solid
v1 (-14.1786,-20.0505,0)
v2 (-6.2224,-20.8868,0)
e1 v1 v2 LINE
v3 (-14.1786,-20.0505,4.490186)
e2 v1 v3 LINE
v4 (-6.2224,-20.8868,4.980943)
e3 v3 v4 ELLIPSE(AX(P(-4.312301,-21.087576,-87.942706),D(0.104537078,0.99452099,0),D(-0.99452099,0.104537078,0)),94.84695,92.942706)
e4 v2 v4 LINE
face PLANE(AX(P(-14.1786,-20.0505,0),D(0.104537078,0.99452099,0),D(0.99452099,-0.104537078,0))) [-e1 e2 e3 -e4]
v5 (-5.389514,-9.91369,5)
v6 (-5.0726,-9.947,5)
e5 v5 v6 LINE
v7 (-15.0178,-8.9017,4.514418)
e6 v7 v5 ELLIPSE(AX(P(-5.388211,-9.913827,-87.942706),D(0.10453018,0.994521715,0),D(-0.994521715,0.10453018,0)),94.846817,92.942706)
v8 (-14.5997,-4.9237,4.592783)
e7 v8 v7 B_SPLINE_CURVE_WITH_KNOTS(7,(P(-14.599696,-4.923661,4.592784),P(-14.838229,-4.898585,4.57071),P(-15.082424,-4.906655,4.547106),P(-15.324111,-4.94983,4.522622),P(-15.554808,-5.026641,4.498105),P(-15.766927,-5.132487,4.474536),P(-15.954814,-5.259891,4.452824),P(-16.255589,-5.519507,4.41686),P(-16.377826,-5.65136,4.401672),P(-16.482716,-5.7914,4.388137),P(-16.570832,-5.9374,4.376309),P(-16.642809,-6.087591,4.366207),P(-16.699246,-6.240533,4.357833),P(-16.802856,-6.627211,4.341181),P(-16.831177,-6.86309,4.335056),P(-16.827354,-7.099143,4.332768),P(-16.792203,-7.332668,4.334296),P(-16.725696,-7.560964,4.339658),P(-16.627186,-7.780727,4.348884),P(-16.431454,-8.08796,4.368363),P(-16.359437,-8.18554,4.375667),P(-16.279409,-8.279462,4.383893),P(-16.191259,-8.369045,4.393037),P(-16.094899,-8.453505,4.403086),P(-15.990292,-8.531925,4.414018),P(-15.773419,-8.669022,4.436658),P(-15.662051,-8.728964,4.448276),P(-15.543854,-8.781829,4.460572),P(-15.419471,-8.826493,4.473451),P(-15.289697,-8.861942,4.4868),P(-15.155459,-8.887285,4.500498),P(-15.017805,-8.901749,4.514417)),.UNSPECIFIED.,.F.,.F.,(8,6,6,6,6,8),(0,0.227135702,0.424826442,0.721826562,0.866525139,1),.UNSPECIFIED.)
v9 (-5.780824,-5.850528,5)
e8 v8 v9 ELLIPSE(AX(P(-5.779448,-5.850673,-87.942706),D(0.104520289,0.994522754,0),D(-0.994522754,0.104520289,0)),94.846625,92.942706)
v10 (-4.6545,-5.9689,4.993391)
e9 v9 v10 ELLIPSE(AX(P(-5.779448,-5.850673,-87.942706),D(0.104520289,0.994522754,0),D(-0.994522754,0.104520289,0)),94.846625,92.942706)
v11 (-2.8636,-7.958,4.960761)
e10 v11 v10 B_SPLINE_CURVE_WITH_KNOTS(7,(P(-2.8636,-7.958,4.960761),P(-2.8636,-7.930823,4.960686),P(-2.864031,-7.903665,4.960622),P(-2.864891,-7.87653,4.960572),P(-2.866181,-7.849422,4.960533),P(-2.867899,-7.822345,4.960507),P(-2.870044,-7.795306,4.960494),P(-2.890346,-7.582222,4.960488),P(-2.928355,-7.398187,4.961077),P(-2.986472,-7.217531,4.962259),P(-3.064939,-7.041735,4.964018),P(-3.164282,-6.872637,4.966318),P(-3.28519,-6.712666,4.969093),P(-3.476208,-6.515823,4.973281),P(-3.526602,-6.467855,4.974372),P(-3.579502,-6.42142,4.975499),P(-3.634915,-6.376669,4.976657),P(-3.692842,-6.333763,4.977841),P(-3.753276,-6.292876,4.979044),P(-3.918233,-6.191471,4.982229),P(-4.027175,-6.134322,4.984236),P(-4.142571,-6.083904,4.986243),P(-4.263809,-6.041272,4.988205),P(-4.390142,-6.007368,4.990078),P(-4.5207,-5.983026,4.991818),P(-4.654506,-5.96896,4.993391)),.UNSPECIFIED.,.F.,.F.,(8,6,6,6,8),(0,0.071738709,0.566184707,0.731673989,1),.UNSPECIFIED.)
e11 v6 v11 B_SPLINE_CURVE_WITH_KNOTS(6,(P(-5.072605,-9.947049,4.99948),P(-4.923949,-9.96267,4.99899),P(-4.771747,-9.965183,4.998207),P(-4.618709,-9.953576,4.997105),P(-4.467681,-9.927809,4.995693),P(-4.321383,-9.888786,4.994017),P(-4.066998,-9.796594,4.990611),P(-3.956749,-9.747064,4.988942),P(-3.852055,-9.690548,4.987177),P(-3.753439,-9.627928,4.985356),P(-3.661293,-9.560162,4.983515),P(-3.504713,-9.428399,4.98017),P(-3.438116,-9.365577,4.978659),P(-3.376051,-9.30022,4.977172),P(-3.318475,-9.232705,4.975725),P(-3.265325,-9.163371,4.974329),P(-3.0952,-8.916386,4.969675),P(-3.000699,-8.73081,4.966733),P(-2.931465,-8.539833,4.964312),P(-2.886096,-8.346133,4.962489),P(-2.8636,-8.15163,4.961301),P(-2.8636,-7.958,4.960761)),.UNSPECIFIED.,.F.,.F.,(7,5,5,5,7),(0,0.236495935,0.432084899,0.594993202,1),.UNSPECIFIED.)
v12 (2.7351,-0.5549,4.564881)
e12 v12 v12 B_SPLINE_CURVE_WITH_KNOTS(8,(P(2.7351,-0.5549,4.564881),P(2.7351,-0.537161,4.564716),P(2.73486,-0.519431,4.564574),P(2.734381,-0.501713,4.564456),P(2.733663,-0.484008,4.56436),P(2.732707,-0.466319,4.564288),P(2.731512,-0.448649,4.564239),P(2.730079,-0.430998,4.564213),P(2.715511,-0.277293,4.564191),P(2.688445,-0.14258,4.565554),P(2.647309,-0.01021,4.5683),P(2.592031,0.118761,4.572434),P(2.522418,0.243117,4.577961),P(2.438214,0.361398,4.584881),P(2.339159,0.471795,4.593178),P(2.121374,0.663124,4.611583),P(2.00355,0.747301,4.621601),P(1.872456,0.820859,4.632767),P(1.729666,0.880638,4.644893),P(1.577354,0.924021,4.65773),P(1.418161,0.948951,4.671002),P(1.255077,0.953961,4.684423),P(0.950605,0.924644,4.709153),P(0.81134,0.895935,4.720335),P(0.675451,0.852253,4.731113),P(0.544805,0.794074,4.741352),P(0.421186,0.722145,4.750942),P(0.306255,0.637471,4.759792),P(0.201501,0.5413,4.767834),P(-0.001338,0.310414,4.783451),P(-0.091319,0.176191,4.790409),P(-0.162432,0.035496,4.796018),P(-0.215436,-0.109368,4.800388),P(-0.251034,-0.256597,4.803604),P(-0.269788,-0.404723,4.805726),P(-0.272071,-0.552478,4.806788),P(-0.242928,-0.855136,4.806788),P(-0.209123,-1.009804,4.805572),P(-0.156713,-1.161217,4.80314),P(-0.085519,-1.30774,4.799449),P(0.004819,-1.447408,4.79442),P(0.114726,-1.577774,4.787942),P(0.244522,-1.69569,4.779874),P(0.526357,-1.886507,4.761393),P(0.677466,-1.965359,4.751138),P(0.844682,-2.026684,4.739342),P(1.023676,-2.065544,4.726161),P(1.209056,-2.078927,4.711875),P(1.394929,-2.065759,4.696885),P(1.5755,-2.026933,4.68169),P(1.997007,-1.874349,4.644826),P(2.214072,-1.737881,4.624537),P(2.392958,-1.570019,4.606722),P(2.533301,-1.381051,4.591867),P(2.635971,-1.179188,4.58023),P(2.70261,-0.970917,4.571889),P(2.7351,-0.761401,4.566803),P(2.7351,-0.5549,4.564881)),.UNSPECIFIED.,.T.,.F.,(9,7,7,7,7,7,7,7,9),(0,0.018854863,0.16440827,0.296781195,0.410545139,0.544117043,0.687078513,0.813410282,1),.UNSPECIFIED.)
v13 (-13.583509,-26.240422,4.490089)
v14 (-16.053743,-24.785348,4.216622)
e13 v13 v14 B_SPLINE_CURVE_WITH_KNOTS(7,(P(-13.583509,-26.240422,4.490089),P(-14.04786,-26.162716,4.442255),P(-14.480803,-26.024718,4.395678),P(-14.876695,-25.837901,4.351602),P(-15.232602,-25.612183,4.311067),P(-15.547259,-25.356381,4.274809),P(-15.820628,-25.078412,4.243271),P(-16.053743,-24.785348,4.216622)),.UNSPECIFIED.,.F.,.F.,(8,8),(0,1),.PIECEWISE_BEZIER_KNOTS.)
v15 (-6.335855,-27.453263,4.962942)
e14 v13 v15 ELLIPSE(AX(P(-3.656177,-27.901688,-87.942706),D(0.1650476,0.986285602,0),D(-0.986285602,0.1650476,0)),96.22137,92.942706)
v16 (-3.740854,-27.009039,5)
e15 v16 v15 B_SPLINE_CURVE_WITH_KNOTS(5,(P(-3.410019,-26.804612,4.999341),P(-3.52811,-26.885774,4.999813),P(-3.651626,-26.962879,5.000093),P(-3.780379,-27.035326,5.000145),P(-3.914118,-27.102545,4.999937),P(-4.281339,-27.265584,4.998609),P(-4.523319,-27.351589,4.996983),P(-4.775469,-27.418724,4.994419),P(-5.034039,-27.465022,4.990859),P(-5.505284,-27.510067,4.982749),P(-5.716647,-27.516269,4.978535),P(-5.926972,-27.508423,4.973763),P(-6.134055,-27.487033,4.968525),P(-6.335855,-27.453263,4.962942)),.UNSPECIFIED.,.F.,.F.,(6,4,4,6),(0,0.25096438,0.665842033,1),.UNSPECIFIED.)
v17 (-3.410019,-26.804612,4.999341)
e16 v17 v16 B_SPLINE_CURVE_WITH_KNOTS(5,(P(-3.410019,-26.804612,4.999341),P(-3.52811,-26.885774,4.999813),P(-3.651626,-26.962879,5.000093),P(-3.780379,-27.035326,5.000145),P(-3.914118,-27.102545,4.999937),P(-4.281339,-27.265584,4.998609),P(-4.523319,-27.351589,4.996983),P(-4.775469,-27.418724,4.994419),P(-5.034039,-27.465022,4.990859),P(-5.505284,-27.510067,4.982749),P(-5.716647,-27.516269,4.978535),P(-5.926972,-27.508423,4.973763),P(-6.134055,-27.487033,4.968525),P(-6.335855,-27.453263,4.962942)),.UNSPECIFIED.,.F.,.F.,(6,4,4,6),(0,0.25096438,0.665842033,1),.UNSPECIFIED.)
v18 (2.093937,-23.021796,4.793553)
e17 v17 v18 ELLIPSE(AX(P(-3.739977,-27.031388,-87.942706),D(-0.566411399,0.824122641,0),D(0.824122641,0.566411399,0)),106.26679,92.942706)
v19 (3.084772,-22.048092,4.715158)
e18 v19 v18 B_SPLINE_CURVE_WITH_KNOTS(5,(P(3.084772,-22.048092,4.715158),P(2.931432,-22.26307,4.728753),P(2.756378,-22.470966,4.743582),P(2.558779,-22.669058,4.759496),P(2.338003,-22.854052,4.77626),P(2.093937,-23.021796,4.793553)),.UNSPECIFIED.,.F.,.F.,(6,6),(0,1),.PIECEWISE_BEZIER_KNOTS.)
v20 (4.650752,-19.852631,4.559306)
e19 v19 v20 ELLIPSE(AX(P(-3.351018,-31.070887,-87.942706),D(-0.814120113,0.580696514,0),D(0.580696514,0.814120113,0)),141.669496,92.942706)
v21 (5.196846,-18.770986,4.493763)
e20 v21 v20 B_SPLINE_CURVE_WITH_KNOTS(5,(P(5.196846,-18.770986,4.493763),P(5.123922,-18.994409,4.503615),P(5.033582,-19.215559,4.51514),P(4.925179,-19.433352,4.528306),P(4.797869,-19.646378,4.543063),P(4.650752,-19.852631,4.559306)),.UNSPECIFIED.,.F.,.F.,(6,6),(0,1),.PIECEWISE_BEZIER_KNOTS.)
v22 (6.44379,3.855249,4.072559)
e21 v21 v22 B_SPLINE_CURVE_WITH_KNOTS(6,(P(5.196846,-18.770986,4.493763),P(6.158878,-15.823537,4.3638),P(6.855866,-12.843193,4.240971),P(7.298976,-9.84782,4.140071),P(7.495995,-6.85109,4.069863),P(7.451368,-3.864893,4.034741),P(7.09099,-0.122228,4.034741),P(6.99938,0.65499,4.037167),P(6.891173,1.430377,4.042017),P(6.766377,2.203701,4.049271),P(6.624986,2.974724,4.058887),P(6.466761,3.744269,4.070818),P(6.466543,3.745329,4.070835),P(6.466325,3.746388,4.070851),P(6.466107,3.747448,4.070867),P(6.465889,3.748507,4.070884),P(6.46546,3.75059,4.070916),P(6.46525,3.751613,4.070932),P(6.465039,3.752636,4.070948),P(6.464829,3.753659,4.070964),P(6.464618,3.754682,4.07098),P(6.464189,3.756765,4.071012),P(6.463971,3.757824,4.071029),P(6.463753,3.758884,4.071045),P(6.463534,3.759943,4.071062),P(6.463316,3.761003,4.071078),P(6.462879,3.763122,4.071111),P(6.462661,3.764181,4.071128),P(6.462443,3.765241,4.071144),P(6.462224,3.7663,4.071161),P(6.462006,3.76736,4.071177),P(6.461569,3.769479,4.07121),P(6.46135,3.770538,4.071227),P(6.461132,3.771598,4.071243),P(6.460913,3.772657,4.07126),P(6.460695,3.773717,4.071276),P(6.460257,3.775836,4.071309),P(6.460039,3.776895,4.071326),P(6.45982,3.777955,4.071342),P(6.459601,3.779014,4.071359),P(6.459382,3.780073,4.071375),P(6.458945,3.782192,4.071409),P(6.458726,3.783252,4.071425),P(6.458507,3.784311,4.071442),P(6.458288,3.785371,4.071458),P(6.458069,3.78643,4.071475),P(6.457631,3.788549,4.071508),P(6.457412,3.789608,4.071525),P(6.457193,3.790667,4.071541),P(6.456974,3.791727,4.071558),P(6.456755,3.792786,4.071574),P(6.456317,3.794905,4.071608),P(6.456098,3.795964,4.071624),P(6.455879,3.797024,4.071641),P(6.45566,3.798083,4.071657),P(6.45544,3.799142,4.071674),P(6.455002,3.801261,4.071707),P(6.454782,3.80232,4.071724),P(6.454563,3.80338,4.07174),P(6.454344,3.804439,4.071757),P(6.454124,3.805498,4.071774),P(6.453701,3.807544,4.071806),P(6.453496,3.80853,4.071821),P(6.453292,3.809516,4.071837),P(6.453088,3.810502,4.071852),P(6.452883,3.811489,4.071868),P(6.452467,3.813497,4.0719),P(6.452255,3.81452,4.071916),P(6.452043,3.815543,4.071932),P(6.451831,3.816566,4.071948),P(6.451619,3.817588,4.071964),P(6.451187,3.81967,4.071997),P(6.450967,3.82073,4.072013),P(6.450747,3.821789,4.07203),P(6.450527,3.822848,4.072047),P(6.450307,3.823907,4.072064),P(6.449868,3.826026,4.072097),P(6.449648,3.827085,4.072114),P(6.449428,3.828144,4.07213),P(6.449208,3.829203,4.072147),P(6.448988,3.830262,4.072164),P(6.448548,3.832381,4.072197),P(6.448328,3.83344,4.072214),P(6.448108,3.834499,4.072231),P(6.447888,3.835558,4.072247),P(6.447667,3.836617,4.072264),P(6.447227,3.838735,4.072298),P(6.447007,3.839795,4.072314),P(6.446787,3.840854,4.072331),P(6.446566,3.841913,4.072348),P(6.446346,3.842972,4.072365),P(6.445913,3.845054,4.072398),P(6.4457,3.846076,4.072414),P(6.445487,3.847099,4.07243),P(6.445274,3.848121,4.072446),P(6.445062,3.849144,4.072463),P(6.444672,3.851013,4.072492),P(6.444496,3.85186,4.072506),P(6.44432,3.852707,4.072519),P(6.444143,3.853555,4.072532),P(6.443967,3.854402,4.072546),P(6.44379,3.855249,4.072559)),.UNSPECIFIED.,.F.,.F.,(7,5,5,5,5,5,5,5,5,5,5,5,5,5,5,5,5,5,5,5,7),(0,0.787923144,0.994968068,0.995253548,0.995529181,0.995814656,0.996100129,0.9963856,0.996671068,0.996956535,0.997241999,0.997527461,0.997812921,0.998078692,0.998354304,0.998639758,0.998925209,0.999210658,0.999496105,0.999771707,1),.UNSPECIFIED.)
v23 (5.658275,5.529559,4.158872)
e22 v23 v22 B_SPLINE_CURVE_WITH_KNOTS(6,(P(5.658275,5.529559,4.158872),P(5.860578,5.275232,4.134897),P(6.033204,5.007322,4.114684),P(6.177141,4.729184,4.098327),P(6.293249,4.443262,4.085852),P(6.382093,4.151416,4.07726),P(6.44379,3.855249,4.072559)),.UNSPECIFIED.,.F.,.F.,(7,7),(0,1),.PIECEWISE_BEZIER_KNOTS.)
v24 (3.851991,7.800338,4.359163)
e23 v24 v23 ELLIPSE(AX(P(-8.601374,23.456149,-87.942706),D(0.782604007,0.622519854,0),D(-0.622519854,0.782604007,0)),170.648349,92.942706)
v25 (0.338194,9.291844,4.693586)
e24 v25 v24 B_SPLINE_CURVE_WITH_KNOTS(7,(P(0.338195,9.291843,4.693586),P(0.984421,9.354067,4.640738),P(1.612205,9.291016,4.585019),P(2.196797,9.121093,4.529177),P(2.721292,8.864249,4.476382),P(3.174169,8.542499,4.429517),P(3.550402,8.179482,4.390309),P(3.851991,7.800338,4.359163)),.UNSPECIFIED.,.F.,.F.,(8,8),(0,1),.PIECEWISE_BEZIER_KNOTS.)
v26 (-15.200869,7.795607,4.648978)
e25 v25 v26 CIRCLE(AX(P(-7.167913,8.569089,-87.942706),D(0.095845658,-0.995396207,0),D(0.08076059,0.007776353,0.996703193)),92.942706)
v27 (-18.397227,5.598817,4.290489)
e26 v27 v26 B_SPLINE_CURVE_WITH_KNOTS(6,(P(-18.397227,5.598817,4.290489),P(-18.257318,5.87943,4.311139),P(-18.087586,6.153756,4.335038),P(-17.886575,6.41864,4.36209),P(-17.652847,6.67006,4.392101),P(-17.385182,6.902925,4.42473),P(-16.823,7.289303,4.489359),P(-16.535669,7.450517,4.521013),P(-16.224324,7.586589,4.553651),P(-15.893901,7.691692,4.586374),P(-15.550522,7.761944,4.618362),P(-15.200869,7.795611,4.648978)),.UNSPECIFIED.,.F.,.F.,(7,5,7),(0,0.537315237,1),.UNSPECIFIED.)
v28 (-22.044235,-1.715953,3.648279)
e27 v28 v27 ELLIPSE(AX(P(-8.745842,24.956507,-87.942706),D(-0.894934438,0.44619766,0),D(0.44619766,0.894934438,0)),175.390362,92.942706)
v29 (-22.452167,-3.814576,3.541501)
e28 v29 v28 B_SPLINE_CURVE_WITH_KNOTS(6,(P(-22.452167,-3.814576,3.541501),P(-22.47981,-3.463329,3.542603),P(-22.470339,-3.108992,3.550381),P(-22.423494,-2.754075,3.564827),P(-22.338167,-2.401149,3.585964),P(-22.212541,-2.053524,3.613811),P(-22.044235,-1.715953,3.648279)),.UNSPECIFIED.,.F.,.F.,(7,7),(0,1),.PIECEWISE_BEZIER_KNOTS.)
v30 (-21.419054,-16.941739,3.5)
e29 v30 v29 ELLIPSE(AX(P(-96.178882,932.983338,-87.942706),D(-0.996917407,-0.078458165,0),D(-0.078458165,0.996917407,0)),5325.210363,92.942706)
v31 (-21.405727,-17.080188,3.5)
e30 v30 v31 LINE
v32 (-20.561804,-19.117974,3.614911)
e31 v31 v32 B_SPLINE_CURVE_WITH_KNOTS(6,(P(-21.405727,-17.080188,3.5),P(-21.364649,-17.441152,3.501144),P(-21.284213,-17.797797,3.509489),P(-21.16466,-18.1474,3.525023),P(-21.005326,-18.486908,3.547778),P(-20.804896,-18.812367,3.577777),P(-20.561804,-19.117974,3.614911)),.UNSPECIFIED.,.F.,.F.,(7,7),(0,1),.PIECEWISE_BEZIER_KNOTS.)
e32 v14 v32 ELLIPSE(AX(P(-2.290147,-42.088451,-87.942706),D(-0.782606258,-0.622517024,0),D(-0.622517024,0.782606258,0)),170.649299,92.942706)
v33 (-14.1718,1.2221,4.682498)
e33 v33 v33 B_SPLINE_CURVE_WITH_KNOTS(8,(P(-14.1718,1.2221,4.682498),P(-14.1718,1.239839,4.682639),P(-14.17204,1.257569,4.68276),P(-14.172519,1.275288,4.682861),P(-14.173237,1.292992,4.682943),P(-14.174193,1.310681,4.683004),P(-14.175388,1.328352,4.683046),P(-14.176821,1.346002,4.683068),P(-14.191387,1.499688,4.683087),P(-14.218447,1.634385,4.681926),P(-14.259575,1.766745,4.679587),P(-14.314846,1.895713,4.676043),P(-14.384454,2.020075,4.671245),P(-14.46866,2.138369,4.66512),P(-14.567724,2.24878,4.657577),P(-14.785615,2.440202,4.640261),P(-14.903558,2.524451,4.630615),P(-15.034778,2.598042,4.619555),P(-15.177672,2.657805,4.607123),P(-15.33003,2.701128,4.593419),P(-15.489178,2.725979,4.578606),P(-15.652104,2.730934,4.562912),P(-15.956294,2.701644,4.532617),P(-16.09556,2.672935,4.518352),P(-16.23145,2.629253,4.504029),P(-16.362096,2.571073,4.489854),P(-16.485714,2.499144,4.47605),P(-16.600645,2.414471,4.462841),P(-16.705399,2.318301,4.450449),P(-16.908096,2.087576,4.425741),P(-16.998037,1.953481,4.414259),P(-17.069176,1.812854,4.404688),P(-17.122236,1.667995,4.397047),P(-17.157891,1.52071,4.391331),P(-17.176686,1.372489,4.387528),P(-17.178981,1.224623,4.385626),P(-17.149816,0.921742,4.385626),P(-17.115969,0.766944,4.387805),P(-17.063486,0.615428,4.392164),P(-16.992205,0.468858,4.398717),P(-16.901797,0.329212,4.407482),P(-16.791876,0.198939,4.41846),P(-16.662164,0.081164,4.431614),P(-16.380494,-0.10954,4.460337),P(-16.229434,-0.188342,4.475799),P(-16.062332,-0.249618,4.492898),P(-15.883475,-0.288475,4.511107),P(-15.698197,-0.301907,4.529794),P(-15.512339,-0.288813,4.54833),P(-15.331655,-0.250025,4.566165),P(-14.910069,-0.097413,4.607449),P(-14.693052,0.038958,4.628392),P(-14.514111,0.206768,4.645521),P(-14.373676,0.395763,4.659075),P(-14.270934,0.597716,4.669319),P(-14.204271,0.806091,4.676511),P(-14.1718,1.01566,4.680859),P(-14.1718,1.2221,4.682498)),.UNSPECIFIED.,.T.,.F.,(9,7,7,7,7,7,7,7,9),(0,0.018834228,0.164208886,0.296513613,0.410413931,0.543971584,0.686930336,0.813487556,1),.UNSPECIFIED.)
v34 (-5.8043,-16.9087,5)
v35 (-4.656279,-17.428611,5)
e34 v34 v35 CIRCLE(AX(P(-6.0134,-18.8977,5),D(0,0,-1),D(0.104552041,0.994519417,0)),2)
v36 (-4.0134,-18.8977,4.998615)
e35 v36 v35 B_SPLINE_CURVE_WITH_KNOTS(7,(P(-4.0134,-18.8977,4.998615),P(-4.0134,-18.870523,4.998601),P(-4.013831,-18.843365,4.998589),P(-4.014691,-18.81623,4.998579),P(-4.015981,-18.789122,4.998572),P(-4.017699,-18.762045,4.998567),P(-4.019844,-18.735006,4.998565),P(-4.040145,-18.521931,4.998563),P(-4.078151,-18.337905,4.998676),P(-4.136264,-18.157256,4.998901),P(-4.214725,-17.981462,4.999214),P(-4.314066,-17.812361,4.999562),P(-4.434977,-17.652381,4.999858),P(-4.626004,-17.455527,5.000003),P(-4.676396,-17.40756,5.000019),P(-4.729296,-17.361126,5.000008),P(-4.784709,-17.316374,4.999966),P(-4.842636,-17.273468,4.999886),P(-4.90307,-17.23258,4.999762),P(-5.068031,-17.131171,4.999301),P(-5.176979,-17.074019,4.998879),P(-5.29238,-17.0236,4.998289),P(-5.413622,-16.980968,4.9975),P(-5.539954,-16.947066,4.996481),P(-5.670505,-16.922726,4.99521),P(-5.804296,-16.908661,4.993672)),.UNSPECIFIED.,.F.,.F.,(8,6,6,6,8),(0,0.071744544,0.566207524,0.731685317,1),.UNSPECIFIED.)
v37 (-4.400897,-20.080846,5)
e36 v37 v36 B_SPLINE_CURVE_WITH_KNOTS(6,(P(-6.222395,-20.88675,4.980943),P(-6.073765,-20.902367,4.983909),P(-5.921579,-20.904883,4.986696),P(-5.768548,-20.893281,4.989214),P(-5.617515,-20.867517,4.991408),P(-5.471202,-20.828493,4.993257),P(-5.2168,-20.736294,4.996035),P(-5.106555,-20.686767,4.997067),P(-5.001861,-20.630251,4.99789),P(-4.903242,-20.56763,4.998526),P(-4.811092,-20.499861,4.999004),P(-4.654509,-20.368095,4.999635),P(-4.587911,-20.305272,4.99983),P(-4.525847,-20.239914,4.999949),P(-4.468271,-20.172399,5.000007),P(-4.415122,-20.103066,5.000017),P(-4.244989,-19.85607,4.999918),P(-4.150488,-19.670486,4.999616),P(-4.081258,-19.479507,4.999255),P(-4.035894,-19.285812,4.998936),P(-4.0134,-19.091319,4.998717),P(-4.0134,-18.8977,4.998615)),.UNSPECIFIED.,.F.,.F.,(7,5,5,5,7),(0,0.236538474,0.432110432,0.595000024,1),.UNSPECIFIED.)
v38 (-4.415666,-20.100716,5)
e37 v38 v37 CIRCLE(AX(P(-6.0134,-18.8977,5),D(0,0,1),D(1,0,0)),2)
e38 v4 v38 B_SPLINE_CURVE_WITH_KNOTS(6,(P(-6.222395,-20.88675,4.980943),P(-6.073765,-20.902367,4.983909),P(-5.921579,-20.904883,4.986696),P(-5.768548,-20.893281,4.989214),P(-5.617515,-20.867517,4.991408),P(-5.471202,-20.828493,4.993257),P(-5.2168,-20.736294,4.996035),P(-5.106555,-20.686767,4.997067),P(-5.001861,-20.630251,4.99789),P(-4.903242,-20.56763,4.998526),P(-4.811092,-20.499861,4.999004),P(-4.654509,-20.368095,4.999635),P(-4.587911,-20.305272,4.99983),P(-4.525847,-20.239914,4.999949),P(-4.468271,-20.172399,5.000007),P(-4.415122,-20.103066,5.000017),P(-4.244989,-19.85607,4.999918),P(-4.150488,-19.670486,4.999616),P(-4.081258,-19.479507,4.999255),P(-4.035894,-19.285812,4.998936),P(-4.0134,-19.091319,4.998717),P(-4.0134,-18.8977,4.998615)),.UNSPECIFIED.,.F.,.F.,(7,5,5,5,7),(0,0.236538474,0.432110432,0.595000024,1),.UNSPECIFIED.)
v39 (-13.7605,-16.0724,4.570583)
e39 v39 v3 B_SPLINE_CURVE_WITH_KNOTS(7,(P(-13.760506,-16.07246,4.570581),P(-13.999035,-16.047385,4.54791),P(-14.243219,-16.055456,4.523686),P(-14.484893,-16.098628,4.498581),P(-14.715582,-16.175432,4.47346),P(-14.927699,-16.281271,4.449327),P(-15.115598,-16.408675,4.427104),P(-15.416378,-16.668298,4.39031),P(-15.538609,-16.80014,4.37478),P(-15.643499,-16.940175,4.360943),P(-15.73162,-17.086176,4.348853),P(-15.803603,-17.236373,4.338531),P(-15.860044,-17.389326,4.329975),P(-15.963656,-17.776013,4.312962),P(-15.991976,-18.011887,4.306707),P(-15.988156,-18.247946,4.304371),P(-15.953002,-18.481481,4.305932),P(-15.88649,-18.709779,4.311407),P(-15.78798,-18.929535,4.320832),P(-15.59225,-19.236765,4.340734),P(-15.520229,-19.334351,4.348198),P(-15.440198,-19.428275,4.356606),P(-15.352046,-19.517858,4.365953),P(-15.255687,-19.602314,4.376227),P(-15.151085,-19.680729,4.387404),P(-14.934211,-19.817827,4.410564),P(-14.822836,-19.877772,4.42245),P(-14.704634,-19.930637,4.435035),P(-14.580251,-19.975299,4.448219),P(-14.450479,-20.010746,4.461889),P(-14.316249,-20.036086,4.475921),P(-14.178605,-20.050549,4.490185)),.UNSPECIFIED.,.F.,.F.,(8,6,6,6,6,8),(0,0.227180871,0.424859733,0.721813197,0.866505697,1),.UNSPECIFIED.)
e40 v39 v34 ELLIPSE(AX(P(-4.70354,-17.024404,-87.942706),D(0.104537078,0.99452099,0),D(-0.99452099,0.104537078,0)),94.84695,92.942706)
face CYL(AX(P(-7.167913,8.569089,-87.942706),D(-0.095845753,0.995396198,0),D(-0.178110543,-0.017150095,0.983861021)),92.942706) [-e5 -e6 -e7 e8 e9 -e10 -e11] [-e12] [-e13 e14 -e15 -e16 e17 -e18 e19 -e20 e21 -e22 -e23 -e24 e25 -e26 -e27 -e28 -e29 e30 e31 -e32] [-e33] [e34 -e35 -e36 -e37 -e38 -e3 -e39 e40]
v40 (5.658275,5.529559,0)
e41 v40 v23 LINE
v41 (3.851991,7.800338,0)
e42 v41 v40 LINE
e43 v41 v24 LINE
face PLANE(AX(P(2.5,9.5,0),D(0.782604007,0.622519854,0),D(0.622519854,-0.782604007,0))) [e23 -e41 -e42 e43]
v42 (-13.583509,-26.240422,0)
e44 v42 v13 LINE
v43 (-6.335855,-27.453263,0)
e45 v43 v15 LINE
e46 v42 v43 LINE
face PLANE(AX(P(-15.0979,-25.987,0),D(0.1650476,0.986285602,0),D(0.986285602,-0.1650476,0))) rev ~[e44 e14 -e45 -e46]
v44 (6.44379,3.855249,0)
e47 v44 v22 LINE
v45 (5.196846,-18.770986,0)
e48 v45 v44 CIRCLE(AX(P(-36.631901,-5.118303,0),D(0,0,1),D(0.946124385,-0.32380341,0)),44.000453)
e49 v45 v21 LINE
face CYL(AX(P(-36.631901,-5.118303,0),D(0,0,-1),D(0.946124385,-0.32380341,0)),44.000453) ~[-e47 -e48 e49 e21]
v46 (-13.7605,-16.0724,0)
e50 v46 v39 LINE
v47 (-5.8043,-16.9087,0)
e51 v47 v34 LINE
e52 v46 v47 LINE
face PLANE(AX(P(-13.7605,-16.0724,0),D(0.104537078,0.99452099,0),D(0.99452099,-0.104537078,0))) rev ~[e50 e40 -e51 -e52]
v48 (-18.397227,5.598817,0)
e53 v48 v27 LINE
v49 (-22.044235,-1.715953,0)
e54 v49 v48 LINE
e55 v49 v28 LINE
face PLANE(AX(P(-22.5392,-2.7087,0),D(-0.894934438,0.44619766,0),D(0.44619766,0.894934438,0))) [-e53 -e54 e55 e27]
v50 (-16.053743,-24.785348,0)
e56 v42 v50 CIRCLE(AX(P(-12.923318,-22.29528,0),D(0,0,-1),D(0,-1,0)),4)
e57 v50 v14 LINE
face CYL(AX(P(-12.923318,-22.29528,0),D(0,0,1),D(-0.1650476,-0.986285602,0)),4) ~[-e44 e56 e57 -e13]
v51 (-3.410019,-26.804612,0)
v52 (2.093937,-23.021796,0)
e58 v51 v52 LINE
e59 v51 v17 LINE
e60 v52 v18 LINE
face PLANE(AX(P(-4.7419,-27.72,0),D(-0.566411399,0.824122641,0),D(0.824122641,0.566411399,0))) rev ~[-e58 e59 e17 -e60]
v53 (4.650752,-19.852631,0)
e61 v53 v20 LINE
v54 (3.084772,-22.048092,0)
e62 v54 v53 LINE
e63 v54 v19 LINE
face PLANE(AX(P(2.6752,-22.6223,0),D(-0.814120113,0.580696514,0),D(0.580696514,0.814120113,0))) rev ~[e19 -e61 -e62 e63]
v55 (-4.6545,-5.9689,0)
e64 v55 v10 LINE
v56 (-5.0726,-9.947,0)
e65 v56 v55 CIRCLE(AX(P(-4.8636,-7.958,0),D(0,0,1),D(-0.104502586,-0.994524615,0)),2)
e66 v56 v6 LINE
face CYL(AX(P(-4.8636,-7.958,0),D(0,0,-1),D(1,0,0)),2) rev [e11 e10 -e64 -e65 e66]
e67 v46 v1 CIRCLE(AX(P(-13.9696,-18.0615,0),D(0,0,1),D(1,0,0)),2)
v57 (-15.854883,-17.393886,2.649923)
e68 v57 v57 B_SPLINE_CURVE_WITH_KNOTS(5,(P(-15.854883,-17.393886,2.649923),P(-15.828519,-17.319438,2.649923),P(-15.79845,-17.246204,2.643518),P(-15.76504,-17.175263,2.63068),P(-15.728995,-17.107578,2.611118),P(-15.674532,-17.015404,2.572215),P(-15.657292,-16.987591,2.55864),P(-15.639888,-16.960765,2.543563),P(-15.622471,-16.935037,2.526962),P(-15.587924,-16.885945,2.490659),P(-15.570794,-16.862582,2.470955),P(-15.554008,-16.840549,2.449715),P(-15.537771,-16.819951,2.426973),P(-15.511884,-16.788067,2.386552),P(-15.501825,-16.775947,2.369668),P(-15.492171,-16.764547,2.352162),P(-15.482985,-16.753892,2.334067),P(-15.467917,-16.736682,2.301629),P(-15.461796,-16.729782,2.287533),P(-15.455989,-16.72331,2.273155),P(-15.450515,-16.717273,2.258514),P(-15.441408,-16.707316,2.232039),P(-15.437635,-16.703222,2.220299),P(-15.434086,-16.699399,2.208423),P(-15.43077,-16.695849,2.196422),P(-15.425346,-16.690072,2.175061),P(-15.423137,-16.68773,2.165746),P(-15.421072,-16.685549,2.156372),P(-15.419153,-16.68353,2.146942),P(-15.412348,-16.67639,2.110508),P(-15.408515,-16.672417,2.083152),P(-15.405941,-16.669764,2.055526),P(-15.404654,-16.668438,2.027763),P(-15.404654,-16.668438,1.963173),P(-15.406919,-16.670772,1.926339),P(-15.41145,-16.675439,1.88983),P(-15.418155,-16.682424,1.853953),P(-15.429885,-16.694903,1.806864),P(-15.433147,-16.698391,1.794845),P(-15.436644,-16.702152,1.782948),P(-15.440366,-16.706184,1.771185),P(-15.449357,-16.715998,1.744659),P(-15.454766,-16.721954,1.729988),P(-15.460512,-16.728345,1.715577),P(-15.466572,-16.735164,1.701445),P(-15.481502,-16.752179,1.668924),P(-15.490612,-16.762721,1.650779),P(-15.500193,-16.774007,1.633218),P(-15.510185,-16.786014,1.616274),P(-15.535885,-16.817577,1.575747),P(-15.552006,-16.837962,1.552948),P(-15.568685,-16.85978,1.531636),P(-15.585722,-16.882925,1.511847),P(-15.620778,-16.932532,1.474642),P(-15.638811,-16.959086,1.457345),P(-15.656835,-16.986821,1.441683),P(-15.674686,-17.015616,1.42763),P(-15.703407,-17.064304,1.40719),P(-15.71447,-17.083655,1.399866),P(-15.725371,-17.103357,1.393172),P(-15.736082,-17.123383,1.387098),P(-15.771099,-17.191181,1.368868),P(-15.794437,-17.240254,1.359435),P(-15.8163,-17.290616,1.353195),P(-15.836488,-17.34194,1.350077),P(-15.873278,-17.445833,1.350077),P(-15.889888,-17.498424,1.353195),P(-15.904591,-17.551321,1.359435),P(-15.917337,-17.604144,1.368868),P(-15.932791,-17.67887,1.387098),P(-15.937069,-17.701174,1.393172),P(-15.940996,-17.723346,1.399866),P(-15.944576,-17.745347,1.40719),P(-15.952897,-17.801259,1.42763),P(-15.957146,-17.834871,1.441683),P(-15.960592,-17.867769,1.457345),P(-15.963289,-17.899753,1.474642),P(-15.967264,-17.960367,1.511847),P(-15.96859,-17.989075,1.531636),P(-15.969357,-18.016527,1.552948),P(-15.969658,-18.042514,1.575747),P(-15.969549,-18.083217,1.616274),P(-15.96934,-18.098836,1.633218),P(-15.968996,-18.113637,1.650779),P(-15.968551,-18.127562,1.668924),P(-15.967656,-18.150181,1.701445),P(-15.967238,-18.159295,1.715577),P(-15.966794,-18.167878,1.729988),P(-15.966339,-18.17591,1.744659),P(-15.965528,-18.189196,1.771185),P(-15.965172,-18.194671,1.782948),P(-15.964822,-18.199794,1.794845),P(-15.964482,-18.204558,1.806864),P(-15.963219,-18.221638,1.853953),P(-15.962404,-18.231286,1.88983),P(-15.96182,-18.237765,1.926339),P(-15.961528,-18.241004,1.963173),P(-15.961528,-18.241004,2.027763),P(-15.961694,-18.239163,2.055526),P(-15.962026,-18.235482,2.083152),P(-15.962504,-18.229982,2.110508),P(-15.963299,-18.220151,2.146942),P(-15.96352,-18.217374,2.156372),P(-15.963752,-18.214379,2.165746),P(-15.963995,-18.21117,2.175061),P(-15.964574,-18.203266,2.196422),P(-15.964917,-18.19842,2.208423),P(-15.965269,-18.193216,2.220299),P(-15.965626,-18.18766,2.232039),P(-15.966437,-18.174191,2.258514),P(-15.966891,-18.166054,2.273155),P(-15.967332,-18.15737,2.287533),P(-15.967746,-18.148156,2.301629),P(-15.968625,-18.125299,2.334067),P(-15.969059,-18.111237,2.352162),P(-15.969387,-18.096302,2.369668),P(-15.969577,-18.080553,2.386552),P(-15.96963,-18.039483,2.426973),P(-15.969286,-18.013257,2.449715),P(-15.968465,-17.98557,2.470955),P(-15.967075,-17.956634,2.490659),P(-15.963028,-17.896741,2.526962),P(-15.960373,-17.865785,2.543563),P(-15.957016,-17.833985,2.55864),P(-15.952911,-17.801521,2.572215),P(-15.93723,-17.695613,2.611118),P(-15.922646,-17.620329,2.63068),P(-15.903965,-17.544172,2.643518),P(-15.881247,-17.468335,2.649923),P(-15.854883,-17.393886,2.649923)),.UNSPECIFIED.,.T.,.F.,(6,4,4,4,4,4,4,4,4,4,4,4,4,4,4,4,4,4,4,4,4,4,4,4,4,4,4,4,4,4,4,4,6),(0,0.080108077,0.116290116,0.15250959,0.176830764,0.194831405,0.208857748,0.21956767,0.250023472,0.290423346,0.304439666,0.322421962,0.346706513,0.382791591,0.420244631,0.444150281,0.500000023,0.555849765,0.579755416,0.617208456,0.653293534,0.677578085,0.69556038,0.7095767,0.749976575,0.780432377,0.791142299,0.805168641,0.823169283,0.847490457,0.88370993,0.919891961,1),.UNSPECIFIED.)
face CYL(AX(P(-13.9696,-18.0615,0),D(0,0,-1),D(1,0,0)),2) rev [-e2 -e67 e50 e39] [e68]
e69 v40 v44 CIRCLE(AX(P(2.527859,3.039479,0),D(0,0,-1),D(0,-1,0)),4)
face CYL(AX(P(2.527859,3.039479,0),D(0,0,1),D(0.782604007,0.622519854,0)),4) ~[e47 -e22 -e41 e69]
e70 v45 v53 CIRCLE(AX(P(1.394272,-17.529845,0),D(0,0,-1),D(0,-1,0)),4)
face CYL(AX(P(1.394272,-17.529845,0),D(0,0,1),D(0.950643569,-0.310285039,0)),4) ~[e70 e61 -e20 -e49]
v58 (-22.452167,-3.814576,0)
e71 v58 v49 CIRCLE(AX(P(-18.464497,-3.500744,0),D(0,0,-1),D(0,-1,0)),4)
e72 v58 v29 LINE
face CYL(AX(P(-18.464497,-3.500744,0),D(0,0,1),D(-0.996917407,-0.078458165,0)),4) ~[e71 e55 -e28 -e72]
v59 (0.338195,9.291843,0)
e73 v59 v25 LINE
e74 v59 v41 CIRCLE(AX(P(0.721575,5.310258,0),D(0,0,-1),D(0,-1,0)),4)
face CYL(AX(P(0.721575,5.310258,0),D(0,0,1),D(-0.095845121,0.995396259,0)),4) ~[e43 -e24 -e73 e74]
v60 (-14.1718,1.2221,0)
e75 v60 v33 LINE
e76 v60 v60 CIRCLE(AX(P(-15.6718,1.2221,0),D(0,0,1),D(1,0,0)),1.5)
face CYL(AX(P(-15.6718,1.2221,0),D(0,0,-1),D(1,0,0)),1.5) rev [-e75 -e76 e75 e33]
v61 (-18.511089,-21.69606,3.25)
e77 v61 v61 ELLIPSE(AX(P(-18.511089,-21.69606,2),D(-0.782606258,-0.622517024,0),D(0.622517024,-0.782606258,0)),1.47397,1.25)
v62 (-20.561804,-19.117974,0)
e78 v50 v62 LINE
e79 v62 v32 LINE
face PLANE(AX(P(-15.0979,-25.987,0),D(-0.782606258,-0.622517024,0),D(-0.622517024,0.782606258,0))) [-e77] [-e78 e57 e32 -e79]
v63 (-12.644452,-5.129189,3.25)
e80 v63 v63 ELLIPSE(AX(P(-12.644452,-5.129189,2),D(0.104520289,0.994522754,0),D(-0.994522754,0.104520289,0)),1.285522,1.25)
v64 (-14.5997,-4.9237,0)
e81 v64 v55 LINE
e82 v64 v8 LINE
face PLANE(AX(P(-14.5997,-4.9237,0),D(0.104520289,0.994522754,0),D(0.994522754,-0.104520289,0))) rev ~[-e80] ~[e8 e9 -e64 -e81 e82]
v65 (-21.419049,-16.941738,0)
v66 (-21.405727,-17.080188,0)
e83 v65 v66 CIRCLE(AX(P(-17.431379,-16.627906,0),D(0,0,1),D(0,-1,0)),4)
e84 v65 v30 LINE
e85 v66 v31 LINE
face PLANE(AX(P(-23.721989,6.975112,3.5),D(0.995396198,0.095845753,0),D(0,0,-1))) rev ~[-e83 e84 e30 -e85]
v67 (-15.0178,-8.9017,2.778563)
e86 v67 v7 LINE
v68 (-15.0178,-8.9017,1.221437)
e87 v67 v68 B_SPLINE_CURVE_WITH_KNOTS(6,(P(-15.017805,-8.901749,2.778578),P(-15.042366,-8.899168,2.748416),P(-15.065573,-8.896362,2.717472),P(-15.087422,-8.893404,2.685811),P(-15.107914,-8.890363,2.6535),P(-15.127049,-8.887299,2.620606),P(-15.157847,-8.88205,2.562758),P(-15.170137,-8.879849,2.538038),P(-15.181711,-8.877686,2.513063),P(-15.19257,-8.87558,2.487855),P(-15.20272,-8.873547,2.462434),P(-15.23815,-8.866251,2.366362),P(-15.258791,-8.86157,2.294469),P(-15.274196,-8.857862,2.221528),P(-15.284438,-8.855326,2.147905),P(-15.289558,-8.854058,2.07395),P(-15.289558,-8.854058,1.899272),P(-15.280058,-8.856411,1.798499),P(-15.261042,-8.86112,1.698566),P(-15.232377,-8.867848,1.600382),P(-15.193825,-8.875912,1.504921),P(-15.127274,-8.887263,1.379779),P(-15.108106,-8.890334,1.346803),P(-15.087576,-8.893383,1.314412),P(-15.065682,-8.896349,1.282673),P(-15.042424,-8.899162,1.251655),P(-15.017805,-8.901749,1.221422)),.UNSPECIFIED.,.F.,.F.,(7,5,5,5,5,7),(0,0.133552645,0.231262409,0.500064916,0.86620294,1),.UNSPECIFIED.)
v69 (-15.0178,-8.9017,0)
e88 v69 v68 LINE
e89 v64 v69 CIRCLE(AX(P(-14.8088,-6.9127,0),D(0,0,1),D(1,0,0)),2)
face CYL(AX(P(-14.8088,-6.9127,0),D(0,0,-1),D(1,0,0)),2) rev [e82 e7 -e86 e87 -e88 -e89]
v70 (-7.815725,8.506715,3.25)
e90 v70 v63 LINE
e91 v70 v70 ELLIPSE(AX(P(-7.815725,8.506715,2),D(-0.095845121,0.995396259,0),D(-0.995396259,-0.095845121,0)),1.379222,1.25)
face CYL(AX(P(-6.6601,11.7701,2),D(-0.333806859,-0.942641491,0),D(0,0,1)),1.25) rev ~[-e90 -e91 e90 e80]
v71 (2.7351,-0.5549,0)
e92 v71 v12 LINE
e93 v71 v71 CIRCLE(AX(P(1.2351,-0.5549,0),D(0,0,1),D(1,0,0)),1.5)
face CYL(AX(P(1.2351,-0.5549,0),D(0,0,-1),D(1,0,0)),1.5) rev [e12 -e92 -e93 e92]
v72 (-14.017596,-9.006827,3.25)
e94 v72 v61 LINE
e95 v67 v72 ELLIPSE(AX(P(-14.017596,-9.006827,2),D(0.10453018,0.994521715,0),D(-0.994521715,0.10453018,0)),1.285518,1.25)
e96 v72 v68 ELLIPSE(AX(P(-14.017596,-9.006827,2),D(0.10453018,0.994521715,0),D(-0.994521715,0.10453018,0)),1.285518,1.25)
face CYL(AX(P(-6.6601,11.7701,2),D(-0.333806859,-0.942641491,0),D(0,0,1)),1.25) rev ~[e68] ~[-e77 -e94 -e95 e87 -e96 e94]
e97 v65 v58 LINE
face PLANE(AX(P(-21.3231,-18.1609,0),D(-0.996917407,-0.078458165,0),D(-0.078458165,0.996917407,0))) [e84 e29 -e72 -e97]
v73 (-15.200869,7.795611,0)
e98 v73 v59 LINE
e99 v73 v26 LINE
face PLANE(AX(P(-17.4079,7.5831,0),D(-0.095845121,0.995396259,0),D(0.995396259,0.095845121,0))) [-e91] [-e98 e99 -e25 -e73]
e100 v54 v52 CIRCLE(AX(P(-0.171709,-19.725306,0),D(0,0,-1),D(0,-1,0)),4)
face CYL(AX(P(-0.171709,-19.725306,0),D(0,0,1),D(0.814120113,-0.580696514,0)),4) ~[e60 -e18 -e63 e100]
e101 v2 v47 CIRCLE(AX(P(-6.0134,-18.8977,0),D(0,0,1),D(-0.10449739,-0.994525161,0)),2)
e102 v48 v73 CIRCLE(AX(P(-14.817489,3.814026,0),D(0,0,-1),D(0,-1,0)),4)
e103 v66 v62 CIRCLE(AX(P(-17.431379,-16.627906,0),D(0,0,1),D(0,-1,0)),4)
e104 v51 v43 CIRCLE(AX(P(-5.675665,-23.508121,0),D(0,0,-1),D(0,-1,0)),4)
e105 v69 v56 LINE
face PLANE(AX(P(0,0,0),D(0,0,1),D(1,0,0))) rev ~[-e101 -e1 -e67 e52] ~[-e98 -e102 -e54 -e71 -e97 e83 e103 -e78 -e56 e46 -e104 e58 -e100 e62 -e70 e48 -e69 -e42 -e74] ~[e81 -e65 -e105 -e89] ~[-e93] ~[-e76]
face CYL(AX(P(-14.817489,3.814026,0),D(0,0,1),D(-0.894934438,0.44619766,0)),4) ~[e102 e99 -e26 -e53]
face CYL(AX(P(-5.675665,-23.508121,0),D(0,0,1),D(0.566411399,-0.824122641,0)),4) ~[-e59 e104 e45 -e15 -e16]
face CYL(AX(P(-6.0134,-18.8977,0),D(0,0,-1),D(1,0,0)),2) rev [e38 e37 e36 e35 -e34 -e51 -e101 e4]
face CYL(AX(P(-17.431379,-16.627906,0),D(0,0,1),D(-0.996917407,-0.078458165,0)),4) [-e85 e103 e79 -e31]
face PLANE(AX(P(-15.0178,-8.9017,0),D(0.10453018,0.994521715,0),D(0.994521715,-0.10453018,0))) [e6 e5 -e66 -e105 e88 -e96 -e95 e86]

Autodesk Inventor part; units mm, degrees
ref_plane "YZ Plane" through (0, 0, 0) normal (1, 0, 0) x (0, 1, 0)
ref_plane "XZ Plane" through (0, 0, 0) normal (0, 1, 0) x (-1, 0, 0)
sketch "Base" plane through (0, 0, 0) normal (0, 0, 1) x (1, 0, 0)
  circle A0 centre (-15.6718, 1.2221) radius 1.5
  circle A1 centre (-13.9696, -18.0615) radius 2
  line L0 (-13.9696, -18.0615) -> (-6.0134, -18.8977) construction
  circle A2 centre (-6.0134, -18.8977) radius 2
  circle A3 centre (-14.8088, -6.9127) radius 2
  circle A4 centre (-4.8636, -7.958) radius 2
  line L1 (-14.8088, -6.9127) -> (-4.8636, -7.958) construction
  line L2 (-14.1786, -20.0505) -> (-6.2224, -20.8868)
  line L3 (-13.7605, -16.0724) -> (-5.8043, -16.9087)
  line L4 (-15.0178, -8.9017) -> (-5.0726, -9.947)
  line L5 (-14.5997, -4.9237) -> (-4.6545, -5.9689)
  line L6 (-6.0134, -18.8977) -> (-4.8636, -7.958) construction
  circle A5 centre (1.2351, -0.5549) radius 1.5
  line L7 (-15.6718, 1.2221) -> (1.2351, -0.5549) construction
  line L8 (-21.3231, -18.1609) -> (-22.5392, -2.7087)
  line L9 (-15.0979, -25.987) -> (-21.3231, -18.1609)
  line L10 (-22.5392, -2.7087) -> (-17.4079, 7.5831)
  line L11 (-17.4079, 7.5831) -> (2.5, 9.5)
  line L12 (-4.7419, -27.72) -> (2.6752, -22.6223)
  line L13 (-15.0979, -25.987) -> (-4.7419, -27.72)
  arc A6 (4.998, -19.3658) -> (6.2351, 4.8044) centre (-36.6314, -5.1184) ccw
  line L14 (2.6752, -22.6223) -> (4.998, -19.3658)
  line L15 (2.5, 9.5) -> (6.2351, 4.8044)
  line L16 (-45.5436, 0) -> (16.8418, 0) construction
  line L17 (0, -35.164) -> (0, 16.944) construction
  dimension "d119" = 8
  dimension "d129" = 10
  dimension "d290" = 11
  dimension "d293" = 3
  dimension "d294" = 122
  dimension "d295" = 123
  dimension "d296" = 149
  dimension "d297" = 146
  dimension "d298" = 138
  dimension "d299" = 136
  dimension "d300" = 160
  dimension "d301" = 44
  dimension "d302" = 94.5
  dimension "d303" = 11.5
  dimension "d304" = 20
  dimension "d305" = 15.5
  dimension "d306" = 10
  dimension "d307" = 10.5
  dimension "d308" = 9
  dimension "d309" = 4
  dimension "d310" = 6
  dimension "d311" = 6
  dimension "d312" = 8
  dimension "d313" = 17
  dimension "d314" = 2.5
  dimension "d315" = 9.5
  dimension "d316" = 11
  dimension "d317" = 8
  dimension "d318" = 5
  dimension "d319" = 4
extrude "BaseFeature" add sketch "Base" along normal blind 5
fillet "BaseFilletsFeature" radius 4 9 edges at (6.2351, 4.8044, 2.5) (2.5, 9.5, 2.5) (4.998, -19.3658, 2.5) (2.6752, -22.6223, 2.5) (-4.7419, -27.72, 2.5) (-15.0979, -25.987, 2.5) (-21.3231, -18.1609, 2.5) (-22.5392, -2.7087, 2.5) (-17.4079, 7.5831, 2.5)
sketch "SideProfile" plane through (-15.2009, 7.7956, 5) normal (-0.0958, 0.9954, 0) x (0.9954, 0.0958, 0)
  arc A0 (-8.5605, 1.5) -> (21.6674, 1) centre (8.0701, 92.9423) ccw
  line L0 (21.6674, 1) -> (21.6674, 5)
  line L1 (21.6674, 5) -> (-8.5605, 5)
  line L2 (-8.5605, 1.5) -> (-8.5605, 5)
  line L3 (15.6109, 5) -> (0, 5) projected
  line L4 (15.6109, 0) -> (0, 0) construction
  line L5 (-8.5605, 0) -> (-8.5605, 5) projected
  line L6 (21.1674, 0) -> (21.1674, 5) projected
  dimension "d328" = 4
  dimension "d329" = 3.5
  dimension "d330" = 0.5
extrude "SideProfileFeature" cut sketch "SideProfile" against normal through all keep common part
sketch "ChannelAngle" plane through (0, 0, 0) normal (0, 0, -1) x (-1, 0, 0)
  line L0 (18.2542, -22.019) -> (7.4314, 8.5437) construction
  line L1 (20.5618, -19.1179) -> (16.0538, -24.7853) construction
  line L2 (-0.3382, 9.2918) -> (15.2009, 7.7956) construction
  line L3 (22.4522, -3.8145) -> (21.419, -16.9417) projected
  dimension "d331" = 156
ref_plane "ChannelAngleOrthoPlane" through (0.3382, 9.2918, 0) normal (-0.3338, -0.9426, 0) x (0, 0, 1)
ref_plane "ChannelAngleBasePlane" through (-18.2542, -22.019, 0) normal (-0.9426, 0.3338, 0) x (0.3338, 0.9426, 0)
sketch "Channel" plane through (0.3382, 9.2918, 0) normal (-0.3338, -0.9426, 0) x (0, 0, 1)
  circle A0 centre (2, 7.4241) radius 1.25
  line L0 (0, 0) -> (0, 14.1483) construction
  line L1 (3.6483, 17.4241) -> (0, 17.4241) projected
  dimension "d334" = 2.5
  dimension "d335" = 2
  dimension "d336" = 10
hole "ChannelHoleFeature" at (-6.6601, 11.7701, 2) direction (-0.3338, -0.9426, 0) diameter 2.5 end through all
properties part number "ThumbRouter"
